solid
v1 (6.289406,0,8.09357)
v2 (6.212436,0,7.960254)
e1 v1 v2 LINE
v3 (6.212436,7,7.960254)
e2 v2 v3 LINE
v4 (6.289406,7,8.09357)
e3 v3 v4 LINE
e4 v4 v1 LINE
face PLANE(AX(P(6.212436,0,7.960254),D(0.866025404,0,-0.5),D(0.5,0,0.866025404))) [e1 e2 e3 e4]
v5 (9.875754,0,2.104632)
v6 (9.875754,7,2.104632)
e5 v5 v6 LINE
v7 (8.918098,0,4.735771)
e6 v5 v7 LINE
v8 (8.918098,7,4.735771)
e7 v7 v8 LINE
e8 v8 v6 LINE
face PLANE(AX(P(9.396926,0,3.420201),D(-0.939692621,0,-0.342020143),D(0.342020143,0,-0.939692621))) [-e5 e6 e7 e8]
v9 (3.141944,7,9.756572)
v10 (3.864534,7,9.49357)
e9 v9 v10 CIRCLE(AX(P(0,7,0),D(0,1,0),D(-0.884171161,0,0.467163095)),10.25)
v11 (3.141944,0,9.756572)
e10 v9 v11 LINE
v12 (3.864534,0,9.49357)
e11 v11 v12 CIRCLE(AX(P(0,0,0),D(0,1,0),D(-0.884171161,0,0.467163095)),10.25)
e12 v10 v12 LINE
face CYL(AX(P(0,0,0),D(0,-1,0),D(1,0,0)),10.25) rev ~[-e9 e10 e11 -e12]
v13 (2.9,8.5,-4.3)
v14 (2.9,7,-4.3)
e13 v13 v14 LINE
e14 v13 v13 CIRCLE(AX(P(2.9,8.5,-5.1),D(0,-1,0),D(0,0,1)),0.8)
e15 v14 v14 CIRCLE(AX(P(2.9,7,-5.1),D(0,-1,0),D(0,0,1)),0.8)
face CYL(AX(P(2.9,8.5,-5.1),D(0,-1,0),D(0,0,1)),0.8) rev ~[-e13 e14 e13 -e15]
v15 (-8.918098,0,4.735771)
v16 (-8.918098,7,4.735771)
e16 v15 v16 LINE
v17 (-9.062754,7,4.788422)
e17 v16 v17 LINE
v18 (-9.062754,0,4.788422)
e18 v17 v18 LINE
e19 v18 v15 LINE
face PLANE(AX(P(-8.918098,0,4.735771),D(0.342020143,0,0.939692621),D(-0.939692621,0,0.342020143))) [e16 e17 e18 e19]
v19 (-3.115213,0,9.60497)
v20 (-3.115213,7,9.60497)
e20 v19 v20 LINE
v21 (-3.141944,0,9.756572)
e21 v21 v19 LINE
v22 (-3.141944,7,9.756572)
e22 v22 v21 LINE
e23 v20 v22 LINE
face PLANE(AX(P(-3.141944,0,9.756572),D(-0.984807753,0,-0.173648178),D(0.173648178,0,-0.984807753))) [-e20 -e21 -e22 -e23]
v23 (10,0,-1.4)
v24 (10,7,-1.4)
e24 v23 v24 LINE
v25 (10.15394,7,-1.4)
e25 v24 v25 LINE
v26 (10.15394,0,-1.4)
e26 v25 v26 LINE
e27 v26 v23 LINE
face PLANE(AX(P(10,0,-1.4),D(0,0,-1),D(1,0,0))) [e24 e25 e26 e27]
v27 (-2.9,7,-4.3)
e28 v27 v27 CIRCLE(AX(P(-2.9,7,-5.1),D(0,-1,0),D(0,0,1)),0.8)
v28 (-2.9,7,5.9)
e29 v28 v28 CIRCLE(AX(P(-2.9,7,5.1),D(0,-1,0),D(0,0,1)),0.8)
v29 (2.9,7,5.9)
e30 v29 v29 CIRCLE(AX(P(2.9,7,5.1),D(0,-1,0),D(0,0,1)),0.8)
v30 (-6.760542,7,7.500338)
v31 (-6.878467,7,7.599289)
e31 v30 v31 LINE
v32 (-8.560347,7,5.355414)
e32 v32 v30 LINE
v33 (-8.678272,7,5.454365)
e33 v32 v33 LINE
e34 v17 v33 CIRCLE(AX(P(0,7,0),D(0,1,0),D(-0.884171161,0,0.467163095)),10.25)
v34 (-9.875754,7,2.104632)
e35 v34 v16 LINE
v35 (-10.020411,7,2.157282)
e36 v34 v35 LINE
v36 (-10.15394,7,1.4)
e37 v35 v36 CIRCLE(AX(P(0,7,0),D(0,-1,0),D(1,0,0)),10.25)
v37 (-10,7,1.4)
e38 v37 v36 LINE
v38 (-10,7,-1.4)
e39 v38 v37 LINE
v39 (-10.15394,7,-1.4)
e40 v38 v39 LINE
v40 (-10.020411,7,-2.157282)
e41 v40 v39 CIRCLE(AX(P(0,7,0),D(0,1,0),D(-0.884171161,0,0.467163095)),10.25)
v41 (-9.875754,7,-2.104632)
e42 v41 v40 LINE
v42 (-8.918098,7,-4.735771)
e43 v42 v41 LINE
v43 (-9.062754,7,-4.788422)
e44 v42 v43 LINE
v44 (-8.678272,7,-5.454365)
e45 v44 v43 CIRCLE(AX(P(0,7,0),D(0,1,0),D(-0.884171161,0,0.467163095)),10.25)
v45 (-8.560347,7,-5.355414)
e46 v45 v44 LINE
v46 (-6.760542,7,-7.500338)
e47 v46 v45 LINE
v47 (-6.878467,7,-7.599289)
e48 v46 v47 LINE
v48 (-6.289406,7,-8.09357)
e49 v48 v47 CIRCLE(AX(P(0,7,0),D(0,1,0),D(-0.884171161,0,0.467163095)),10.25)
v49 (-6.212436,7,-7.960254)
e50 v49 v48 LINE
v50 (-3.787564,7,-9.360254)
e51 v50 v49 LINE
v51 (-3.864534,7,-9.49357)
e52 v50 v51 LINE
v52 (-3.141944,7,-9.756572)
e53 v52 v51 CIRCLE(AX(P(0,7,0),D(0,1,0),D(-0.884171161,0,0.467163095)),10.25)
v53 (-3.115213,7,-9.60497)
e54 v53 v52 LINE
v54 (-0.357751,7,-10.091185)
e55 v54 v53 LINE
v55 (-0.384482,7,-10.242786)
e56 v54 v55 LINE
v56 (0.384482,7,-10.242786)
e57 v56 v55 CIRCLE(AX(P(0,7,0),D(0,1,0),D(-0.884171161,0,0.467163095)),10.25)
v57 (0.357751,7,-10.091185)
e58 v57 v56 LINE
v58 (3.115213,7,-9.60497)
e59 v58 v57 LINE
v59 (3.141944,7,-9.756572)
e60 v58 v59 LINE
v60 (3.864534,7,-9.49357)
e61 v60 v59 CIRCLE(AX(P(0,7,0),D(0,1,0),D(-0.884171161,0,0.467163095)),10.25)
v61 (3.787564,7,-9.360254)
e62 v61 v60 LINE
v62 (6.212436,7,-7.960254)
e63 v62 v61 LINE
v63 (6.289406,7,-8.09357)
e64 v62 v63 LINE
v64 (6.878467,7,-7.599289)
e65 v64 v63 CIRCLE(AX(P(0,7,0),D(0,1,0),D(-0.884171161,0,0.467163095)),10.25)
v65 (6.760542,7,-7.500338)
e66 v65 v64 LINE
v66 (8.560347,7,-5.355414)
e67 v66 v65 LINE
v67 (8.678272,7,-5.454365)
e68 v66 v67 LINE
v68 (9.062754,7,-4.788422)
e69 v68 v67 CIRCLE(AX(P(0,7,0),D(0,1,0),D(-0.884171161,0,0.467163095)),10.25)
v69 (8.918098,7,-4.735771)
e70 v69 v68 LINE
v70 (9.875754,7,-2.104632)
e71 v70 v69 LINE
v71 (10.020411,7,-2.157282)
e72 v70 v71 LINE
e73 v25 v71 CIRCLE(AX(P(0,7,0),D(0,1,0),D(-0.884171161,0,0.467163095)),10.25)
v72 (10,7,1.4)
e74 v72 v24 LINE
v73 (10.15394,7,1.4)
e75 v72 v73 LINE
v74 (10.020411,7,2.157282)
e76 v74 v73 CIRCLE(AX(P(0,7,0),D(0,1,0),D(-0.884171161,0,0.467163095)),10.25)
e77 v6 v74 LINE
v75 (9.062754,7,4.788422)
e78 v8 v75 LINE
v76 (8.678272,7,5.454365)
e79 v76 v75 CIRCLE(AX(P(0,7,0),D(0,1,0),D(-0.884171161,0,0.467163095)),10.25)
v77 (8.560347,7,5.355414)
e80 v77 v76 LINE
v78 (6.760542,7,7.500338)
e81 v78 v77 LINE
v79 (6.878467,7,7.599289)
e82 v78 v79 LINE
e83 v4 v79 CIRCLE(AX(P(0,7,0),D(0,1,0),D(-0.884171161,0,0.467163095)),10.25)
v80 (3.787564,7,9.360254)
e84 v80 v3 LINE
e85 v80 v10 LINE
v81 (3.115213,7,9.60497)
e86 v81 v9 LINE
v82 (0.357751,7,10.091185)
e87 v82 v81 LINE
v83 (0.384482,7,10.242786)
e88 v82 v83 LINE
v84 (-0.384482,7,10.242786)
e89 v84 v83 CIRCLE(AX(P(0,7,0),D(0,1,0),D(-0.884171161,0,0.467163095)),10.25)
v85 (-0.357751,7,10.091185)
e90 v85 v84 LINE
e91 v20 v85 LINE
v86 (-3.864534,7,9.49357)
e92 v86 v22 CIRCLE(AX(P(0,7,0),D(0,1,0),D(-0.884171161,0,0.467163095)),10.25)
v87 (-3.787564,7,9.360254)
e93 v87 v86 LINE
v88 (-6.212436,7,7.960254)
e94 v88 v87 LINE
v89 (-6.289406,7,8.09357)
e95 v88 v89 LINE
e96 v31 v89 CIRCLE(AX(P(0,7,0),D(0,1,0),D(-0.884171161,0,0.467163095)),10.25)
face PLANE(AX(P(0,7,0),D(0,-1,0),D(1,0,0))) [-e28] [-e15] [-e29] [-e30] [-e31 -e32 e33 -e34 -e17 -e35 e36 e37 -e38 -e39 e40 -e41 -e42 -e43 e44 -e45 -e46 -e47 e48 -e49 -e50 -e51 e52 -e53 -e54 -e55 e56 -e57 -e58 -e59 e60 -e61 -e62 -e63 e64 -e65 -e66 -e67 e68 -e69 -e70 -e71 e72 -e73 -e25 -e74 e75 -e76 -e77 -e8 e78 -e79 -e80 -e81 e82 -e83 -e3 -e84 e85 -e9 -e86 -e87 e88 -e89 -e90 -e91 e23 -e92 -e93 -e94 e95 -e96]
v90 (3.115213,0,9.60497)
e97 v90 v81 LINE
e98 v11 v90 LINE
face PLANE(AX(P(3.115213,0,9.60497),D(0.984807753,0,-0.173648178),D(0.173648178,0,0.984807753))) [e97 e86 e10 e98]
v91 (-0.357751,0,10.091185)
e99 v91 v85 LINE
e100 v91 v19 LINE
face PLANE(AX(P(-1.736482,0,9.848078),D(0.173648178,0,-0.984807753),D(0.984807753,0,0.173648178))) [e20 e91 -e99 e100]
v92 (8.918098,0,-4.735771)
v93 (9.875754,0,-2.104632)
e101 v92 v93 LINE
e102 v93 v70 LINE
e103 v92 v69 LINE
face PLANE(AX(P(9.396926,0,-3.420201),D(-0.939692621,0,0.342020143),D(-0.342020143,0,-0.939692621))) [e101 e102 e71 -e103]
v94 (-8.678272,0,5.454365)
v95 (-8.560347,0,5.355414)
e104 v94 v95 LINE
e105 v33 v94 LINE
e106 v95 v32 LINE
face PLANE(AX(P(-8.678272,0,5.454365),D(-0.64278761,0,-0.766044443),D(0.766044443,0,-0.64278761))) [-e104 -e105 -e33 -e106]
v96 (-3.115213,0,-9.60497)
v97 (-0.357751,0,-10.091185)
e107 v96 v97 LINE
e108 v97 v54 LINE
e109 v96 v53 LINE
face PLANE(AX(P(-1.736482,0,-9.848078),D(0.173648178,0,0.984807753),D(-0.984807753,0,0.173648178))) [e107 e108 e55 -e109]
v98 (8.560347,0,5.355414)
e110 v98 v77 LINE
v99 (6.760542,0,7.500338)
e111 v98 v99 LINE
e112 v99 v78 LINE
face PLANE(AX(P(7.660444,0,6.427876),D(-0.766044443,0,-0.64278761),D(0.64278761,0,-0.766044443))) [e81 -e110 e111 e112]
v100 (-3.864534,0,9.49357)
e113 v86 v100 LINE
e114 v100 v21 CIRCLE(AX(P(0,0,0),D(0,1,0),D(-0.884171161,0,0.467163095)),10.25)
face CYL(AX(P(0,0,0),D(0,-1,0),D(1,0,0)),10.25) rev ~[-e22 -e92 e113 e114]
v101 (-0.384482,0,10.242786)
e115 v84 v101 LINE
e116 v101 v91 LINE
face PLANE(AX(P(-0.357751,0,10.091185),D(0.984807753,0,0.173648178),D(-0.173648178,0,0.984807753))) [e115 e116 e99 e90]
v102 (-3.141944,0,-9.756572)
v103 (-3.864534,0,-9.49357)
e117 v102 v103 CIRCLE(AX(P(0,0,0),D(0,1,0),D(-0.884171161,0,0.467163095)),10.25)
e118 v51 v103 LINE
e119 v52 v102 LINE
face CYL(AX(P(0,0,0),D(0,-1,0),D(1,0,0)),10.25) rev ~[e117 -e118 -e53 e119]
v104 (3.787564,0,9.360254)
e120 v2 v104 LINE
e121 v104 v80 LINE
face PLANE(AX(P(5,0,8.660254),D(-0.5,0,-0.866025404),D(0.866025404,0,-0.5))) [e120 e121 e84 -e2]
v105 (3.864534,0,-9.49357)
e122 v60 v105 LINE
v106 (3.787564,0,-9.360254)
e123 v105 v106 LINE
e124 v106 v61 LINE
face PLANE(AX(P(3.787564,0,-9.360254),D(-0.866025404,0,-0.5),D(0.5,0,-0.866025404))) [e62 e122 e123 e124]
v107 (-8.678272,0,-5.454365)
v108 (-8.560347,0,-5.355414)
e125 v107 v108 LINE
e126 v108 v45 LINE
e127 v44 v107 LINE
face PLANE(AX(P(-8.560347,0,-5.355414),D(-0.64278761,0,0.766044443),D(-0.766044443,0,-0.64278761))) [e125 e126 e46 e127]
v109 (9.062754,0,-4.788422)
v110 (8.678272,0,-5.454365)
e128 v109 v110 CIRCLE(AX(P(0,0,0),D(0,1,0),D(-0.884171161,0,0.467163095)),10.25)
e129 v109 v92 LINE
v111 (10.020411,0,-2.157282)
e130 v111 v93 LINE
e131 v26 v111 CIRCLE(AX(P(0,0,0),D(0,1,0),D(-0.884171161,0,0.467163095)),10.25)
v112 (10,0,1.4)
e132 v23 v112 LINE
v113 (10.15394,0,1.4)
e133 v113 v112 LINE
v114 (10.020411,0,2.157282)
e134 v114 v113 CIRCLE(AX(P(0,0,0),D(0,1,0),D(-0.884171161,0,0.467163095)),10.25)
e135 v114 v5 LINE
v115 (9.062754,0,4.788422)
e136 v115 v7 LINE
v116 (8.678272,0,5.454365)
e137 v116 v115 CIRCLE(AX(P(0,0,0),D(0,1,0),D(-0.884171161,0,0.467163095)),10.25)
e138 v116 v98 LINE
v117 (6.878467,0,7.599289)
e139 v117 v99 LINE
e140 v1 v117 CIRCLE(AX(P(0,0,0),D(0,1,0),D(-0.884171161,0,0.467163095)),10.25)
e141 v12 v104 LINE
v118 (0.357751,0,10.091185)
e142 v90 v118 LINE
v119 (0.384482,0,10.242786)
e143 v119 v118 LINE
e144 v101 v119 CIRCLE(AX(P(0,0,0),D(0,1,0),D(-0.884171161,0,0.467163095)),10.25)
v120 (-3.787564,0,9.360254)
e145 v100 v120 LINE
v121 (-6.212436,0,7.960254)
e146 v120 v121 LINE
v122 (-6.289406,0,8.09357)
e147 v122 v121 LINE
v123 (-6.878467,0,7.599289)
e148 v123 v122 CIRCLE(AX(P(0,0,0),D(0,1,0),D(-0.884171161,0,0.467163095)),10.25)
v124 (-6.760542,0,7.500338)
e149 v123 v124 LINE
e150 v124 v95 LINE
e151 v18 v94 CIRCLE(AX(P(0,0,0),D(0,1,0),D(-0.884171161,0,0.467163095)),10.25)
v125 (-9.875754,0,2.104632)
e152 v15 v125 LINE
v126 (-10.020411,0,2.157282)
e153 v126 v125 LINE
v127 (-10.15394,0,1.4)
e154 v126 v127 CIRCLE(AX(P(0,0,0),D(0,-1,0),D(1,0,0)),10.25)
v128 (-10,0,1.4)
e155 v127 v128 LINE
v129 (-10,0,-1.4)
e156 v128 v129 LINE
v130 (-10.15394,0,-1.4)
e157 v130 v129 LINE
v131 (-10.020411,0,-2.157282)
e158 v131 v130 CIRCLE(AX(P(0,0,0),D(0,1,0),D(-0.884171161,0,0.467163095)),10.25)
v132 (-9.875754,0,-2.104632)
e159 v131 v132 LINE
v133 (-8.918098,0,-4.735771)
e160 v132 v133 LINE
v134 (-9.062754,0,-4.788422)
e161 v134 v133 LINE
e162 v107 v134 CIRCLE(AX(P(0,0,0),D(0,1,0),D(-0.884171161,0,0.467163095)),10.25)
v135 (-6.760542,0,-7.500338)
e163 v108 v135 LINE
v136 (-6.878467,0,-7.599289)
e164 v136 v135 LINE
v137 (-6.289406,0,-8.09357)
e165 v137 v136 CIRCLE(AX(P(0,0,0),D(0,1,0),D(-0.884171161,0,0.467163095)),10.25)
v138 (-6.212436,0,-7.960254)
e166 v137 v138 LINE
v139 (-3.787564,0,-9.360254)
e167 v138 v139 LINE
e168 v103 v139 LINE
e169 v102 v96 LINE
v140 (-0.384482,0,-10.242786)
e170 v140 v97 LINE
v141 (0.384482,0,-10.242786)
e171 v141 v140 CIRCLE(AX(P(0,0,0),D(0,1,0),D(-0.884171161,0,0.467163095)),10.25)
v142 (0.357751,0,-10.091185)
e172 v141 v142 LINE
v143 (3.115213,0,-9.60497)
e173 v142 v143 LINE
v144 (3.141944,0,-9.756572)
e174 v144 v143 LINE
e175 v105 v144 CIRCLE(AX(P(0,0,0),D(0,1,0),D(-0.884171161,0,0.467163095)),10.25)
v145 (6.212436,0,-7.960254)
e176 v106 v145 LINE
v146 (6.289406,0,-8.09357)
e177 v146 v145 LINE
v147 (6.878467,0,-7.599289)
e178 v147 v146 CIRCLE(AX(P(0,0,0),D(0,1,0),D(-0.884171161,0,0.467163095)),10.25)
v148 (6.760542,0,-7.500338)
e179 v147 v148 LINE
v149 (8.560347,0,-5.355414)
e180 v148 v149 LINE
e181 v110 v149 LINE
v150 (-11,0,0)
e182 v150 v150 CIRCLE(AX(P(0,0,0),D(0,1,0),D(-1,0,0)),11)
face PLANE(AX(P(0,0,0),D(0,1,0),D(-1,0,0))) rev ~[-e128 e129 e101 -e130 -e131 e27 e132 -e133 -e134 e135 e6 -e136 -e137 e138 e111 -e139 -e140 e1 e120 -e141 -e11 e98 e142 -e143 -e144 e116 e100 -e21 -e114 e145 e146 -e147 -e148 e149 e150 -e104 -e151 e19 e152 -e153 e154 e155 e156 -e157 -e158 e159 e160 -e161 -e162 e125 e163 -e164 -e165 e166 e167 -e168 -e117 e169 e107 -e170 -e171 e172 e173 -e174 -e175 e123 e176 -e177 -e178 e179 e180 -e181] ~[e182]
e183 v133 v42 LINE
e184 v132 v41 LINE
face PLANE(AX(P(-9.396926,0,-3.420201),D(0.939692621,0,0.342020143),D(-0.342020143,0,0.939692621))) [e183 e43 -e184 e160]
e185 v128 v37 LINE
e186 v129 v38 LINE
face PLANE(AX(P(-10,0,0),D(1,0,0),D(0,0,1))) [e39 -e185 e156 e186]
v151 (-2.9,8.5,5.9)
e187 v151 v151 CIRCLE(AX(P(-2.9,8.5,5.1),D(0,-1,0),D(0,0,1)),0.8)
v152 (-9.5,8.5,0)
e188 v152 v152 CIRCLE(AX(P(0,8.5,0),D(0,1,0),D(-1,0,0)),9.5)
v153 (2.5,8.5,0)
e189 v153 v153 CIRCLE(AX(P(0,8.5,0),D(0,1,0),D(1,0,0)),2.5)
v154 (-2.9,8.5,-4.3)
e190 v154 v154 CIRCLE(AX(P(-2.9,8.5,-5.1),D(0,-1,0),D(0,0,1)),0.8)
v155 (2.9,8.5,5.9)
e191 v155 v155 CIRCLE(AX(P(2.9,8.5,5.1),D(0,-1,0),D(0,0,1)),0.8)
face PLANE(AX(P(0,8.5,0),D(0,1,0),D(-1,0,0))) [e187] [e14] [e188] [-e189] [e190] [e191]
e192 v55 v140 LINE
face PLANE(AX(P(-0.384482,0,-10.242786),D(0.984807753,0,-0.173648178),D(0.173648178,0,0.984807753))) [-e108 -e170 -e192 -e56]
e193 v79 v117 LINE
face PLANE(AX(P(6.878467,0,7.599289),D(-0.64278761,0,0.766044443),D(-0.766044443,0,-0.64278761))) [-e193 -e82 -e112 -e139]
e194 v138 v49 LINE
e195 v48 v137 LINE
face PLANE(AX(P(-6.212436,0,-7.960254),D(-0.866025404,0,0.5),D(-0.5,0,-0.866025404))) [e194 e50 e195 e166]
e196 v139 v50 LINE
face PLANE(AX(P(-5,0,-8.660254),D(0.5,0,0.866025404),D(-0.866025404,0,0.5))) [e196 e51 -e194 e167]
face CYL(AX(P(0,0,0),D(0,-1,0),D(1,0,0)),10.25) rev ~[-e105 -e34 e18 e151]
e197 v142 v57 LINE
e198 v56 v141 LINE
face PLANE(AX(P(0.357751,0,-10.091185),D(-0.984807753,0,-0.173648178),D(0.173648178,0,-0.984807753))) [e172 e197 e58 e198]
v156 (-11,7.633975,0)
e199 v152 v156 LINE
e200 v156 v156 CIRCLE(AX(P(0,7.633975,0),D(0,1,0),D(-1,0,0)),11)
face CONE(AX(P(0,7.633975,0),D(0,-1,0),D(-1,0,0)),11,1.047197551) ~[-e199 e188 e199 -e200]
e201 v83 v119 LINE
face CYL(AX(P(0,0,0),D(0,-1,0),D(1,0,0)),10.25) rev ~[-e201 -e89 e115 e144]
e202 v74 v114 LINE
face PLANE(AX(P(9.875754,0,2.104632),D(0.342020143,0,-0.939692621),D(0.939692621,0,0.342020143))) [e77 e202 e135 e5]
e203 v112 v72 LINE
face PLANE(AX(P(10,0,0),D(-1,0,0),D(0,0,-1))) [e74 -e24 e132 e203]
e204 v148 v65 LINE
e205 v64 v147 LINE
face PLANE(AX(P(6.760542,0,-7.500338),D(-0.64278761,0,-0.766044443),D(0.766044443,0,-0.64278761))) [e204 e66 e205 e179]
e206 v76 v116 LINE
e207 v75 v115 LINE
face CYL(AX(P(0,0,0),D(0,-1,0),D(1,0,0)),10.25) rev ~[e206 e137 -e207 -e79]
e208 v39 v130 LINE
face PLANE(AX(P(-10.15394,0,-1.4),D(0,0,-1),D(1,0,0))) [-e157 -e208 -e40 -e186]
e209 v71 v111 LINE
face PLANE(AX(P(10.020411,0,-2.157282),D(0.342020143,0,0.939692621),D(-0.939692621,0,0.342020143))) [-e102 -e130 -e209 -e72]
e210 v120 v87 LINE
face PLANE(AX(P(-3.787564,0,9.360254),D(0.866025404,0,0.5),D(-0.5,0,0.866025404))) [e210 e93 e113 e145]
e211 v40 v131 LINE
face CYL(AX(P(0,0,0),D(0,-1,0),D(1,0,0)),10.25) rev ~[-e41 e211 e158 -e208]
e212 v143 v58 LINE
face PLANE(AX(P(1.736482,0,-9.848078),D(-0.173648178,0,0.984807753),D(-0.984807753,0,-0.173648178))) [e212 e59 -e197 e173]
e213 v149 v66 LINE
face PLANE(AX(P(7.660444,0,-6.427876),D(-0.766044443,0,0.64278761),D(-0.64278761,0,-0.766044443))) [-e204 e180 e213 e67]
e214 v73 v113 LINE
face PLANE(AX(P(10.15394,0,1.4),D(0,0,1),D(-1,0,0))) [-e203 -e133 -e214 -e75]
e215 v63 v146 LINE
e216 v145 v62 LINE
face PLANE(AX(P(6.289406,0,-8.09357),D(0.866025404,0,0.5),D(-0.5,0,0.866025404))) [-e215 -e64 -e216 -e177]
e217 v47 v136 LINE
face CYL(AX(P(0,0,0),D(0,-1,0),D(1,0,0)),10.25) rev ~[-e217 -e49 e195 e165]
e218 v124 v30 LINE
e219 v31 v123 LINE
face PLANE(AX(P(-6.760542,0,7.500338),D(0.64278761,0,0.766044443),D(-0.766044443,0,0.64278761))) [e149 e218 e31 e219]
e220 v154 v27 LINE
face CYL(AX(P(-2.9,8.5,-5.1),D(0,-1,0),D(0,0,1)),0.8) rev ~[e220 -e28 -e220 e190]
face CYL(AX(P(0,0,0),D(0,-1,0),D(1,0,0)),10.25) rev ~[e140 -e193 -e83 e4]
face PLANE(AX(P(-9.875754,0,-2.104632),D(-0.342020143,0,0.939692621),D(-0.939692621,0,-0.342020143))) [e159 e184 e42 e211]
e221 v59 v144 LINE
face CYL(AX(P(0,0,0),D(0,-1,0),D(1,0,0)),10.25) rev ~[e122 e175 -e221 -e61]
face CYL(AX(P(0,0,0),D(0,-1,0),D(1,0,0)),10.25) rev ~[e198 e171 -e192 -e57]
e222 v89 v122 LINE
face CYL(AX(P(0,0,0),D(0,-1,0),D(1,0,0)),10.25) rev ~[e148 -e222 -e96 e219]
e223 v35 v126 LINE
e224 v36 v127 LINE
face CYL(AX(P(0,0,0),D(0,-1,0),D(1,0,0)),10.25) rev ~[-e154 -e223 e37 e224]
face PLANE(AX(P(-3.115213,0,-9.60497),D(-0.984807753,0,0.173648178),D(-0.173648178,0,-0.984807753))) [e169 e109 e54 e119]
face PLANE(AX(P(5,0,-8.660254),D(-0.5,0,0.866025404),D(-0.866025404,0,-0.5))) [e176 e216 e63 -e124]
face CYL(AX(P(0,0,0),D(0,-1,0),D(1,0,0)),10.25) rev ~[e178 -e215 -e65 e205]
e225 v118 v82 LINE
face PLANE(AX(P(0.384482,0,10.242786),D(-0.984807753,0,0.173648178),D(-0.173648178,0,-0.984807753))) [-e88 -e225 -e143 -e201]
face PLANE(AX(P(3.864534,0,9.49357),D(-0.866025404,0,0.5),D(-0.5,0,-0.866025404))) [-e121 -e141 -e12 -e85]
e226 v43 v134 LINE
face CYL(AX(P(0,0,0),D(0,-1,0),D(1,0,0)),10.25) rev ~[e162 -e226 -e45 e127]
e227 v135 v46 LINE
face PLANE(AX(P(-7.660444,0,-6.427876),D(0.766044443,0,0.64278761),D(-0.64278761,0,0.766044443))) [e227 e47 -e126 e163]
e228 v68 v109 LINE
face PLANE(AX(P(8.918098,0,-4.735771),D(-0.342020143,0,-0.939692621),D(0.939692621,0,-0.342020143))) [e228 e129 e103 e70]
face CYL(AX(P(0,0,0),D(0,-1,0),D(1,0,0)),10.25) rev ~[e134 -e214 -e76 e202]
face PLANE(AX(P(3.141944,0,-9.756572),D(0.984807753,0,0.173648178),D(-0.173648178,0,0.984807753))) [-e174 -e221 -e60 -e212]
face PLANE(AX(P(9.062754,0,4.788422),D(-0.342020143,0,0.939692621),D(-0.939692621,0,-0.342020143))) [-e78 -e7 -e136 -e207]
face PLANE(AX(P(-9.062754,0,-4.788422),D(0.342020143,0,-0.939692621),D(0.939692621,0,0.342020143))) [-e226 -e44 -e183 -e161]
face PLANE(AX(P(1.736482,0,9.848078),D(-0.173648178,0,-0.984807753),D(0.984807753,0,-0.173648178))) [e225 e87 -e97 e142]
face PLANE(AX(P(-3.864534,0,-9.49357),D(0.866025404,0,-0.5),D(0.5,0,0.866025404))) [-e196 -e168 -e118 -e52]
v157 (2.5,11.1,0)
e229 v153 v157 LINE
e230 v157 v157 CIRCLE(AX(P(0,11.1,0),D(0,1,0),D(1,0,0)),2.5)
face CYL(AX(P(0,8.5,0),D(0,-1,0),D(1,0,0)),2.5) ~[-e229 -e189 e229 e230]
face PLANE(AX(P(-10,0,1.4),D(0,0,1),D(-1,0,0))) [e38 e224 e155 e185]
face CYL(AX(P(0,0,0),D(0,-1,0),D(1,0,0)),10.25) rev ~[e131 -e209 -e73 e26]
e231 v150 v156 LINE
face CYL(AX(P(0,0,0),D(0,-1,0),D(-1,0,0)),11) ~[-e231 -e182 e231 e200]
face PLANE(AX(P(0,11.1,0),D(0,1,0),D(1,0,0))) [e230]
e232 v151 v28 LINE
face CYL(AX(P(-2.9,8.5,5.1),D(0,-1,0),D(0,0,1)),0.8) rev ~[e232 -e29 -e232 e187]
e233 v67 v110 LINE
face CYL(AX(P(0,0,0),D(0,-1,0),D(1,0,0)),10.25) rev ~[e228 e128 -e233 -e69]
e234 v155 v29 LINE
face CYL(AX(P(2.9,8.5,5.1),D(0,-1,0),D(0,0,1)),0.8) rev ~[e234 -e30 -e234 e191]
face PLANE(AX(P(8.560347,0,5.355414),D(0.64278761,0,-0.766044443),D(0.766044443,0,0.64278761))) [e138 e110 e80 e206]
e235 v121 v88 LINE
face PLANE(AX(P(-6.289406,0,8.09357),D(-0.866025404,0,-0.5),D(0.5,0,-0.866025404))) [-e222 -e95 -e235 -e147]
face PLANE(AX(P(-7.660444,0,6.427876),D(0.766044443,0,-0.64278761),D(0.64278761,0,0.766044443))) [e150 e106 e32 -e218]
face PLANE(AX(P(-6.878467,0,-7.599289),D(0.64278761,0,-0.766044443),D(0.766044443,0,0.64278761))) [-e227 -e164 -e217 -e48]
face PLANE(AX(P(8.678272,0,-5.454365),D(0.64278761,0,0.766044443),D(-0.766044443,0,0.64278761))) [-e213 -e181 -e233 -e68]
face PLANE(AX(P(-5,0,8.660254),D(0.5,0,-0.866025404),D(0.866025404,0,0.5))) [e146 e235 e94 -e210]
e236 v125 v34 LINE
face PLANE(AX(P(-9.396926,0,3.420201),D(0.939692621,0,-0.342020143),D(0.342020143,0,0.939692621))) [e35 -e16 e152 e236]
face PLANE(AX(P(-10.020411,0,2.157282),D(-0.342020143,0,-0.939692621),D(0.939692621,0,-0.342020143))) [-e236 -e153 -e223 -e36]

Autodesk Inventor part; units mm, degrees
ref_plane "YZ Plane" through (0, 0, 0) normal (1, 0, 0) x (0, 1, 0)
ref_plane "XZ Plane" through (0, 0, 0) normal (0, 1, 0) x (-1, 0, 0)
ref_plane "XY Plane" through (0, 0, 0) normal (0, 0, 1) x (1, 0, 0)
sketch "Sketch1" plane through (0, 0, 0) normal (0, 1, 0) x (-1, 0, 0)
  circle A0 centre (0, 0) radius 11
  dimension "d0" = 22
extrude "Extrusion1" add sketch "Sketch1" along normal blind 8.5
sketch "Sketch2" plane through (0, 8.5, 0) normal (0, 1, 0) x (1, 0, 0)
  circle A0 centre (0, 0) radius 2.5
  dimension "d3" = 5
extrude "Extrusion2" add sketch "Sketch2" along normal blind 2.6
chamfer "Chamfer1" distance 1.5 angle 30 1 edges at (11, 8.5, 0) measured on face at (-8.0601, 8.5, -0.8775)
sketch "Sketch3" plane through (0, 0, 0) normal (0, -1, 0) x (1, 0, 0)
  circle A0 centre (0, 0) radius 10.25
  dimension "d9" = 20.5
extrude "Extrusion3" cut sketch "Sketch3" against normal blind 7
sketch "Sketch4" plane through (0, 8.5, 0) normal (0, 1, 0) x (1, 0, 0)
  circle A0 centre (0, 0) radius 2.5 projected
  circle A1 centre (0, 0) radius 9.5 projected
  line L0 (-2.9, 5.1) -> (2.9, 5.1)
  line L1 (2.9, 5.1) -> (2.9, -5.1)
  line L2 (2.9, -5.1) -> (-2.9, -5.1)
  line L3 (-2.9, -5.1) -> (-2.9, 5.1)
  line L4 (-2.9, 5.1) -> (2.9, -5.1) construction
  line L5 (2.9, 5.1) -> (-2.9, -5.1) construction
  dimension "d12" = 5.8
  dimension "d13" = 10.2
hole "Hole1" at (-2.9, 8.5, -5.1) at (2.9, 8.5, -5.1) at (-2.9, 8.5, 5.1) at (2.9, 8.5, 5.1) direction (0, -1, 0) diameter 1.6 depth 17
sketch "Sketch5" plane through (0, 0, 0) normal (0, -1, 0) x (1, 0, 0)
  circle A0 centre (-2.9, 5.1) radius 0.8 projected
  circle A1 centre (-2.9, -5.1) radius 0.8 projected
  circle A2 centre (2.9, -5.1) radius 0.8 projected
  circle A3 centre (2.9, 5.1) radius 0.8 projected
  circle A4 centre (0, 0) radius 10.25 projected
  circle A5 centre (0, 0) radius 10.25 projected
  circle A6 centre (0, 0) radius 11 projected
  line L0 (-10.5, -1.4) -> (-10, -1.4)
  line L1 (-10, -1.4) -> (-10, 1.4)
  line L2 (-10, 1.4) -> (-10.5, 1.4)
  line L3 (-10.5, 1.4) -> (-10.5, -1.4)
  line L4 (-10.5, -1.4) -> (-10, 1.4) construction
  line L5 (-10, -1.4) -> (-10.5, 1.4) construction
  line L6 (0, 0) -> (-10.25, 0)
  dimension "d21" = 0.5
  dimension "d22" = 2.8
extrude "Extrusion4" add sketch "Sketch5" against normal blind 7 contours L2 L1 L6 A4 | A4 L0 L3 L2 | A4 L6 L1 L0
pattern_circular "Circular Pattern1" count 18 over 360 about axis through (0, 0, 0) along (0, 1, 0) of "Extrusion4"
properties part number "burshless_20_top"
